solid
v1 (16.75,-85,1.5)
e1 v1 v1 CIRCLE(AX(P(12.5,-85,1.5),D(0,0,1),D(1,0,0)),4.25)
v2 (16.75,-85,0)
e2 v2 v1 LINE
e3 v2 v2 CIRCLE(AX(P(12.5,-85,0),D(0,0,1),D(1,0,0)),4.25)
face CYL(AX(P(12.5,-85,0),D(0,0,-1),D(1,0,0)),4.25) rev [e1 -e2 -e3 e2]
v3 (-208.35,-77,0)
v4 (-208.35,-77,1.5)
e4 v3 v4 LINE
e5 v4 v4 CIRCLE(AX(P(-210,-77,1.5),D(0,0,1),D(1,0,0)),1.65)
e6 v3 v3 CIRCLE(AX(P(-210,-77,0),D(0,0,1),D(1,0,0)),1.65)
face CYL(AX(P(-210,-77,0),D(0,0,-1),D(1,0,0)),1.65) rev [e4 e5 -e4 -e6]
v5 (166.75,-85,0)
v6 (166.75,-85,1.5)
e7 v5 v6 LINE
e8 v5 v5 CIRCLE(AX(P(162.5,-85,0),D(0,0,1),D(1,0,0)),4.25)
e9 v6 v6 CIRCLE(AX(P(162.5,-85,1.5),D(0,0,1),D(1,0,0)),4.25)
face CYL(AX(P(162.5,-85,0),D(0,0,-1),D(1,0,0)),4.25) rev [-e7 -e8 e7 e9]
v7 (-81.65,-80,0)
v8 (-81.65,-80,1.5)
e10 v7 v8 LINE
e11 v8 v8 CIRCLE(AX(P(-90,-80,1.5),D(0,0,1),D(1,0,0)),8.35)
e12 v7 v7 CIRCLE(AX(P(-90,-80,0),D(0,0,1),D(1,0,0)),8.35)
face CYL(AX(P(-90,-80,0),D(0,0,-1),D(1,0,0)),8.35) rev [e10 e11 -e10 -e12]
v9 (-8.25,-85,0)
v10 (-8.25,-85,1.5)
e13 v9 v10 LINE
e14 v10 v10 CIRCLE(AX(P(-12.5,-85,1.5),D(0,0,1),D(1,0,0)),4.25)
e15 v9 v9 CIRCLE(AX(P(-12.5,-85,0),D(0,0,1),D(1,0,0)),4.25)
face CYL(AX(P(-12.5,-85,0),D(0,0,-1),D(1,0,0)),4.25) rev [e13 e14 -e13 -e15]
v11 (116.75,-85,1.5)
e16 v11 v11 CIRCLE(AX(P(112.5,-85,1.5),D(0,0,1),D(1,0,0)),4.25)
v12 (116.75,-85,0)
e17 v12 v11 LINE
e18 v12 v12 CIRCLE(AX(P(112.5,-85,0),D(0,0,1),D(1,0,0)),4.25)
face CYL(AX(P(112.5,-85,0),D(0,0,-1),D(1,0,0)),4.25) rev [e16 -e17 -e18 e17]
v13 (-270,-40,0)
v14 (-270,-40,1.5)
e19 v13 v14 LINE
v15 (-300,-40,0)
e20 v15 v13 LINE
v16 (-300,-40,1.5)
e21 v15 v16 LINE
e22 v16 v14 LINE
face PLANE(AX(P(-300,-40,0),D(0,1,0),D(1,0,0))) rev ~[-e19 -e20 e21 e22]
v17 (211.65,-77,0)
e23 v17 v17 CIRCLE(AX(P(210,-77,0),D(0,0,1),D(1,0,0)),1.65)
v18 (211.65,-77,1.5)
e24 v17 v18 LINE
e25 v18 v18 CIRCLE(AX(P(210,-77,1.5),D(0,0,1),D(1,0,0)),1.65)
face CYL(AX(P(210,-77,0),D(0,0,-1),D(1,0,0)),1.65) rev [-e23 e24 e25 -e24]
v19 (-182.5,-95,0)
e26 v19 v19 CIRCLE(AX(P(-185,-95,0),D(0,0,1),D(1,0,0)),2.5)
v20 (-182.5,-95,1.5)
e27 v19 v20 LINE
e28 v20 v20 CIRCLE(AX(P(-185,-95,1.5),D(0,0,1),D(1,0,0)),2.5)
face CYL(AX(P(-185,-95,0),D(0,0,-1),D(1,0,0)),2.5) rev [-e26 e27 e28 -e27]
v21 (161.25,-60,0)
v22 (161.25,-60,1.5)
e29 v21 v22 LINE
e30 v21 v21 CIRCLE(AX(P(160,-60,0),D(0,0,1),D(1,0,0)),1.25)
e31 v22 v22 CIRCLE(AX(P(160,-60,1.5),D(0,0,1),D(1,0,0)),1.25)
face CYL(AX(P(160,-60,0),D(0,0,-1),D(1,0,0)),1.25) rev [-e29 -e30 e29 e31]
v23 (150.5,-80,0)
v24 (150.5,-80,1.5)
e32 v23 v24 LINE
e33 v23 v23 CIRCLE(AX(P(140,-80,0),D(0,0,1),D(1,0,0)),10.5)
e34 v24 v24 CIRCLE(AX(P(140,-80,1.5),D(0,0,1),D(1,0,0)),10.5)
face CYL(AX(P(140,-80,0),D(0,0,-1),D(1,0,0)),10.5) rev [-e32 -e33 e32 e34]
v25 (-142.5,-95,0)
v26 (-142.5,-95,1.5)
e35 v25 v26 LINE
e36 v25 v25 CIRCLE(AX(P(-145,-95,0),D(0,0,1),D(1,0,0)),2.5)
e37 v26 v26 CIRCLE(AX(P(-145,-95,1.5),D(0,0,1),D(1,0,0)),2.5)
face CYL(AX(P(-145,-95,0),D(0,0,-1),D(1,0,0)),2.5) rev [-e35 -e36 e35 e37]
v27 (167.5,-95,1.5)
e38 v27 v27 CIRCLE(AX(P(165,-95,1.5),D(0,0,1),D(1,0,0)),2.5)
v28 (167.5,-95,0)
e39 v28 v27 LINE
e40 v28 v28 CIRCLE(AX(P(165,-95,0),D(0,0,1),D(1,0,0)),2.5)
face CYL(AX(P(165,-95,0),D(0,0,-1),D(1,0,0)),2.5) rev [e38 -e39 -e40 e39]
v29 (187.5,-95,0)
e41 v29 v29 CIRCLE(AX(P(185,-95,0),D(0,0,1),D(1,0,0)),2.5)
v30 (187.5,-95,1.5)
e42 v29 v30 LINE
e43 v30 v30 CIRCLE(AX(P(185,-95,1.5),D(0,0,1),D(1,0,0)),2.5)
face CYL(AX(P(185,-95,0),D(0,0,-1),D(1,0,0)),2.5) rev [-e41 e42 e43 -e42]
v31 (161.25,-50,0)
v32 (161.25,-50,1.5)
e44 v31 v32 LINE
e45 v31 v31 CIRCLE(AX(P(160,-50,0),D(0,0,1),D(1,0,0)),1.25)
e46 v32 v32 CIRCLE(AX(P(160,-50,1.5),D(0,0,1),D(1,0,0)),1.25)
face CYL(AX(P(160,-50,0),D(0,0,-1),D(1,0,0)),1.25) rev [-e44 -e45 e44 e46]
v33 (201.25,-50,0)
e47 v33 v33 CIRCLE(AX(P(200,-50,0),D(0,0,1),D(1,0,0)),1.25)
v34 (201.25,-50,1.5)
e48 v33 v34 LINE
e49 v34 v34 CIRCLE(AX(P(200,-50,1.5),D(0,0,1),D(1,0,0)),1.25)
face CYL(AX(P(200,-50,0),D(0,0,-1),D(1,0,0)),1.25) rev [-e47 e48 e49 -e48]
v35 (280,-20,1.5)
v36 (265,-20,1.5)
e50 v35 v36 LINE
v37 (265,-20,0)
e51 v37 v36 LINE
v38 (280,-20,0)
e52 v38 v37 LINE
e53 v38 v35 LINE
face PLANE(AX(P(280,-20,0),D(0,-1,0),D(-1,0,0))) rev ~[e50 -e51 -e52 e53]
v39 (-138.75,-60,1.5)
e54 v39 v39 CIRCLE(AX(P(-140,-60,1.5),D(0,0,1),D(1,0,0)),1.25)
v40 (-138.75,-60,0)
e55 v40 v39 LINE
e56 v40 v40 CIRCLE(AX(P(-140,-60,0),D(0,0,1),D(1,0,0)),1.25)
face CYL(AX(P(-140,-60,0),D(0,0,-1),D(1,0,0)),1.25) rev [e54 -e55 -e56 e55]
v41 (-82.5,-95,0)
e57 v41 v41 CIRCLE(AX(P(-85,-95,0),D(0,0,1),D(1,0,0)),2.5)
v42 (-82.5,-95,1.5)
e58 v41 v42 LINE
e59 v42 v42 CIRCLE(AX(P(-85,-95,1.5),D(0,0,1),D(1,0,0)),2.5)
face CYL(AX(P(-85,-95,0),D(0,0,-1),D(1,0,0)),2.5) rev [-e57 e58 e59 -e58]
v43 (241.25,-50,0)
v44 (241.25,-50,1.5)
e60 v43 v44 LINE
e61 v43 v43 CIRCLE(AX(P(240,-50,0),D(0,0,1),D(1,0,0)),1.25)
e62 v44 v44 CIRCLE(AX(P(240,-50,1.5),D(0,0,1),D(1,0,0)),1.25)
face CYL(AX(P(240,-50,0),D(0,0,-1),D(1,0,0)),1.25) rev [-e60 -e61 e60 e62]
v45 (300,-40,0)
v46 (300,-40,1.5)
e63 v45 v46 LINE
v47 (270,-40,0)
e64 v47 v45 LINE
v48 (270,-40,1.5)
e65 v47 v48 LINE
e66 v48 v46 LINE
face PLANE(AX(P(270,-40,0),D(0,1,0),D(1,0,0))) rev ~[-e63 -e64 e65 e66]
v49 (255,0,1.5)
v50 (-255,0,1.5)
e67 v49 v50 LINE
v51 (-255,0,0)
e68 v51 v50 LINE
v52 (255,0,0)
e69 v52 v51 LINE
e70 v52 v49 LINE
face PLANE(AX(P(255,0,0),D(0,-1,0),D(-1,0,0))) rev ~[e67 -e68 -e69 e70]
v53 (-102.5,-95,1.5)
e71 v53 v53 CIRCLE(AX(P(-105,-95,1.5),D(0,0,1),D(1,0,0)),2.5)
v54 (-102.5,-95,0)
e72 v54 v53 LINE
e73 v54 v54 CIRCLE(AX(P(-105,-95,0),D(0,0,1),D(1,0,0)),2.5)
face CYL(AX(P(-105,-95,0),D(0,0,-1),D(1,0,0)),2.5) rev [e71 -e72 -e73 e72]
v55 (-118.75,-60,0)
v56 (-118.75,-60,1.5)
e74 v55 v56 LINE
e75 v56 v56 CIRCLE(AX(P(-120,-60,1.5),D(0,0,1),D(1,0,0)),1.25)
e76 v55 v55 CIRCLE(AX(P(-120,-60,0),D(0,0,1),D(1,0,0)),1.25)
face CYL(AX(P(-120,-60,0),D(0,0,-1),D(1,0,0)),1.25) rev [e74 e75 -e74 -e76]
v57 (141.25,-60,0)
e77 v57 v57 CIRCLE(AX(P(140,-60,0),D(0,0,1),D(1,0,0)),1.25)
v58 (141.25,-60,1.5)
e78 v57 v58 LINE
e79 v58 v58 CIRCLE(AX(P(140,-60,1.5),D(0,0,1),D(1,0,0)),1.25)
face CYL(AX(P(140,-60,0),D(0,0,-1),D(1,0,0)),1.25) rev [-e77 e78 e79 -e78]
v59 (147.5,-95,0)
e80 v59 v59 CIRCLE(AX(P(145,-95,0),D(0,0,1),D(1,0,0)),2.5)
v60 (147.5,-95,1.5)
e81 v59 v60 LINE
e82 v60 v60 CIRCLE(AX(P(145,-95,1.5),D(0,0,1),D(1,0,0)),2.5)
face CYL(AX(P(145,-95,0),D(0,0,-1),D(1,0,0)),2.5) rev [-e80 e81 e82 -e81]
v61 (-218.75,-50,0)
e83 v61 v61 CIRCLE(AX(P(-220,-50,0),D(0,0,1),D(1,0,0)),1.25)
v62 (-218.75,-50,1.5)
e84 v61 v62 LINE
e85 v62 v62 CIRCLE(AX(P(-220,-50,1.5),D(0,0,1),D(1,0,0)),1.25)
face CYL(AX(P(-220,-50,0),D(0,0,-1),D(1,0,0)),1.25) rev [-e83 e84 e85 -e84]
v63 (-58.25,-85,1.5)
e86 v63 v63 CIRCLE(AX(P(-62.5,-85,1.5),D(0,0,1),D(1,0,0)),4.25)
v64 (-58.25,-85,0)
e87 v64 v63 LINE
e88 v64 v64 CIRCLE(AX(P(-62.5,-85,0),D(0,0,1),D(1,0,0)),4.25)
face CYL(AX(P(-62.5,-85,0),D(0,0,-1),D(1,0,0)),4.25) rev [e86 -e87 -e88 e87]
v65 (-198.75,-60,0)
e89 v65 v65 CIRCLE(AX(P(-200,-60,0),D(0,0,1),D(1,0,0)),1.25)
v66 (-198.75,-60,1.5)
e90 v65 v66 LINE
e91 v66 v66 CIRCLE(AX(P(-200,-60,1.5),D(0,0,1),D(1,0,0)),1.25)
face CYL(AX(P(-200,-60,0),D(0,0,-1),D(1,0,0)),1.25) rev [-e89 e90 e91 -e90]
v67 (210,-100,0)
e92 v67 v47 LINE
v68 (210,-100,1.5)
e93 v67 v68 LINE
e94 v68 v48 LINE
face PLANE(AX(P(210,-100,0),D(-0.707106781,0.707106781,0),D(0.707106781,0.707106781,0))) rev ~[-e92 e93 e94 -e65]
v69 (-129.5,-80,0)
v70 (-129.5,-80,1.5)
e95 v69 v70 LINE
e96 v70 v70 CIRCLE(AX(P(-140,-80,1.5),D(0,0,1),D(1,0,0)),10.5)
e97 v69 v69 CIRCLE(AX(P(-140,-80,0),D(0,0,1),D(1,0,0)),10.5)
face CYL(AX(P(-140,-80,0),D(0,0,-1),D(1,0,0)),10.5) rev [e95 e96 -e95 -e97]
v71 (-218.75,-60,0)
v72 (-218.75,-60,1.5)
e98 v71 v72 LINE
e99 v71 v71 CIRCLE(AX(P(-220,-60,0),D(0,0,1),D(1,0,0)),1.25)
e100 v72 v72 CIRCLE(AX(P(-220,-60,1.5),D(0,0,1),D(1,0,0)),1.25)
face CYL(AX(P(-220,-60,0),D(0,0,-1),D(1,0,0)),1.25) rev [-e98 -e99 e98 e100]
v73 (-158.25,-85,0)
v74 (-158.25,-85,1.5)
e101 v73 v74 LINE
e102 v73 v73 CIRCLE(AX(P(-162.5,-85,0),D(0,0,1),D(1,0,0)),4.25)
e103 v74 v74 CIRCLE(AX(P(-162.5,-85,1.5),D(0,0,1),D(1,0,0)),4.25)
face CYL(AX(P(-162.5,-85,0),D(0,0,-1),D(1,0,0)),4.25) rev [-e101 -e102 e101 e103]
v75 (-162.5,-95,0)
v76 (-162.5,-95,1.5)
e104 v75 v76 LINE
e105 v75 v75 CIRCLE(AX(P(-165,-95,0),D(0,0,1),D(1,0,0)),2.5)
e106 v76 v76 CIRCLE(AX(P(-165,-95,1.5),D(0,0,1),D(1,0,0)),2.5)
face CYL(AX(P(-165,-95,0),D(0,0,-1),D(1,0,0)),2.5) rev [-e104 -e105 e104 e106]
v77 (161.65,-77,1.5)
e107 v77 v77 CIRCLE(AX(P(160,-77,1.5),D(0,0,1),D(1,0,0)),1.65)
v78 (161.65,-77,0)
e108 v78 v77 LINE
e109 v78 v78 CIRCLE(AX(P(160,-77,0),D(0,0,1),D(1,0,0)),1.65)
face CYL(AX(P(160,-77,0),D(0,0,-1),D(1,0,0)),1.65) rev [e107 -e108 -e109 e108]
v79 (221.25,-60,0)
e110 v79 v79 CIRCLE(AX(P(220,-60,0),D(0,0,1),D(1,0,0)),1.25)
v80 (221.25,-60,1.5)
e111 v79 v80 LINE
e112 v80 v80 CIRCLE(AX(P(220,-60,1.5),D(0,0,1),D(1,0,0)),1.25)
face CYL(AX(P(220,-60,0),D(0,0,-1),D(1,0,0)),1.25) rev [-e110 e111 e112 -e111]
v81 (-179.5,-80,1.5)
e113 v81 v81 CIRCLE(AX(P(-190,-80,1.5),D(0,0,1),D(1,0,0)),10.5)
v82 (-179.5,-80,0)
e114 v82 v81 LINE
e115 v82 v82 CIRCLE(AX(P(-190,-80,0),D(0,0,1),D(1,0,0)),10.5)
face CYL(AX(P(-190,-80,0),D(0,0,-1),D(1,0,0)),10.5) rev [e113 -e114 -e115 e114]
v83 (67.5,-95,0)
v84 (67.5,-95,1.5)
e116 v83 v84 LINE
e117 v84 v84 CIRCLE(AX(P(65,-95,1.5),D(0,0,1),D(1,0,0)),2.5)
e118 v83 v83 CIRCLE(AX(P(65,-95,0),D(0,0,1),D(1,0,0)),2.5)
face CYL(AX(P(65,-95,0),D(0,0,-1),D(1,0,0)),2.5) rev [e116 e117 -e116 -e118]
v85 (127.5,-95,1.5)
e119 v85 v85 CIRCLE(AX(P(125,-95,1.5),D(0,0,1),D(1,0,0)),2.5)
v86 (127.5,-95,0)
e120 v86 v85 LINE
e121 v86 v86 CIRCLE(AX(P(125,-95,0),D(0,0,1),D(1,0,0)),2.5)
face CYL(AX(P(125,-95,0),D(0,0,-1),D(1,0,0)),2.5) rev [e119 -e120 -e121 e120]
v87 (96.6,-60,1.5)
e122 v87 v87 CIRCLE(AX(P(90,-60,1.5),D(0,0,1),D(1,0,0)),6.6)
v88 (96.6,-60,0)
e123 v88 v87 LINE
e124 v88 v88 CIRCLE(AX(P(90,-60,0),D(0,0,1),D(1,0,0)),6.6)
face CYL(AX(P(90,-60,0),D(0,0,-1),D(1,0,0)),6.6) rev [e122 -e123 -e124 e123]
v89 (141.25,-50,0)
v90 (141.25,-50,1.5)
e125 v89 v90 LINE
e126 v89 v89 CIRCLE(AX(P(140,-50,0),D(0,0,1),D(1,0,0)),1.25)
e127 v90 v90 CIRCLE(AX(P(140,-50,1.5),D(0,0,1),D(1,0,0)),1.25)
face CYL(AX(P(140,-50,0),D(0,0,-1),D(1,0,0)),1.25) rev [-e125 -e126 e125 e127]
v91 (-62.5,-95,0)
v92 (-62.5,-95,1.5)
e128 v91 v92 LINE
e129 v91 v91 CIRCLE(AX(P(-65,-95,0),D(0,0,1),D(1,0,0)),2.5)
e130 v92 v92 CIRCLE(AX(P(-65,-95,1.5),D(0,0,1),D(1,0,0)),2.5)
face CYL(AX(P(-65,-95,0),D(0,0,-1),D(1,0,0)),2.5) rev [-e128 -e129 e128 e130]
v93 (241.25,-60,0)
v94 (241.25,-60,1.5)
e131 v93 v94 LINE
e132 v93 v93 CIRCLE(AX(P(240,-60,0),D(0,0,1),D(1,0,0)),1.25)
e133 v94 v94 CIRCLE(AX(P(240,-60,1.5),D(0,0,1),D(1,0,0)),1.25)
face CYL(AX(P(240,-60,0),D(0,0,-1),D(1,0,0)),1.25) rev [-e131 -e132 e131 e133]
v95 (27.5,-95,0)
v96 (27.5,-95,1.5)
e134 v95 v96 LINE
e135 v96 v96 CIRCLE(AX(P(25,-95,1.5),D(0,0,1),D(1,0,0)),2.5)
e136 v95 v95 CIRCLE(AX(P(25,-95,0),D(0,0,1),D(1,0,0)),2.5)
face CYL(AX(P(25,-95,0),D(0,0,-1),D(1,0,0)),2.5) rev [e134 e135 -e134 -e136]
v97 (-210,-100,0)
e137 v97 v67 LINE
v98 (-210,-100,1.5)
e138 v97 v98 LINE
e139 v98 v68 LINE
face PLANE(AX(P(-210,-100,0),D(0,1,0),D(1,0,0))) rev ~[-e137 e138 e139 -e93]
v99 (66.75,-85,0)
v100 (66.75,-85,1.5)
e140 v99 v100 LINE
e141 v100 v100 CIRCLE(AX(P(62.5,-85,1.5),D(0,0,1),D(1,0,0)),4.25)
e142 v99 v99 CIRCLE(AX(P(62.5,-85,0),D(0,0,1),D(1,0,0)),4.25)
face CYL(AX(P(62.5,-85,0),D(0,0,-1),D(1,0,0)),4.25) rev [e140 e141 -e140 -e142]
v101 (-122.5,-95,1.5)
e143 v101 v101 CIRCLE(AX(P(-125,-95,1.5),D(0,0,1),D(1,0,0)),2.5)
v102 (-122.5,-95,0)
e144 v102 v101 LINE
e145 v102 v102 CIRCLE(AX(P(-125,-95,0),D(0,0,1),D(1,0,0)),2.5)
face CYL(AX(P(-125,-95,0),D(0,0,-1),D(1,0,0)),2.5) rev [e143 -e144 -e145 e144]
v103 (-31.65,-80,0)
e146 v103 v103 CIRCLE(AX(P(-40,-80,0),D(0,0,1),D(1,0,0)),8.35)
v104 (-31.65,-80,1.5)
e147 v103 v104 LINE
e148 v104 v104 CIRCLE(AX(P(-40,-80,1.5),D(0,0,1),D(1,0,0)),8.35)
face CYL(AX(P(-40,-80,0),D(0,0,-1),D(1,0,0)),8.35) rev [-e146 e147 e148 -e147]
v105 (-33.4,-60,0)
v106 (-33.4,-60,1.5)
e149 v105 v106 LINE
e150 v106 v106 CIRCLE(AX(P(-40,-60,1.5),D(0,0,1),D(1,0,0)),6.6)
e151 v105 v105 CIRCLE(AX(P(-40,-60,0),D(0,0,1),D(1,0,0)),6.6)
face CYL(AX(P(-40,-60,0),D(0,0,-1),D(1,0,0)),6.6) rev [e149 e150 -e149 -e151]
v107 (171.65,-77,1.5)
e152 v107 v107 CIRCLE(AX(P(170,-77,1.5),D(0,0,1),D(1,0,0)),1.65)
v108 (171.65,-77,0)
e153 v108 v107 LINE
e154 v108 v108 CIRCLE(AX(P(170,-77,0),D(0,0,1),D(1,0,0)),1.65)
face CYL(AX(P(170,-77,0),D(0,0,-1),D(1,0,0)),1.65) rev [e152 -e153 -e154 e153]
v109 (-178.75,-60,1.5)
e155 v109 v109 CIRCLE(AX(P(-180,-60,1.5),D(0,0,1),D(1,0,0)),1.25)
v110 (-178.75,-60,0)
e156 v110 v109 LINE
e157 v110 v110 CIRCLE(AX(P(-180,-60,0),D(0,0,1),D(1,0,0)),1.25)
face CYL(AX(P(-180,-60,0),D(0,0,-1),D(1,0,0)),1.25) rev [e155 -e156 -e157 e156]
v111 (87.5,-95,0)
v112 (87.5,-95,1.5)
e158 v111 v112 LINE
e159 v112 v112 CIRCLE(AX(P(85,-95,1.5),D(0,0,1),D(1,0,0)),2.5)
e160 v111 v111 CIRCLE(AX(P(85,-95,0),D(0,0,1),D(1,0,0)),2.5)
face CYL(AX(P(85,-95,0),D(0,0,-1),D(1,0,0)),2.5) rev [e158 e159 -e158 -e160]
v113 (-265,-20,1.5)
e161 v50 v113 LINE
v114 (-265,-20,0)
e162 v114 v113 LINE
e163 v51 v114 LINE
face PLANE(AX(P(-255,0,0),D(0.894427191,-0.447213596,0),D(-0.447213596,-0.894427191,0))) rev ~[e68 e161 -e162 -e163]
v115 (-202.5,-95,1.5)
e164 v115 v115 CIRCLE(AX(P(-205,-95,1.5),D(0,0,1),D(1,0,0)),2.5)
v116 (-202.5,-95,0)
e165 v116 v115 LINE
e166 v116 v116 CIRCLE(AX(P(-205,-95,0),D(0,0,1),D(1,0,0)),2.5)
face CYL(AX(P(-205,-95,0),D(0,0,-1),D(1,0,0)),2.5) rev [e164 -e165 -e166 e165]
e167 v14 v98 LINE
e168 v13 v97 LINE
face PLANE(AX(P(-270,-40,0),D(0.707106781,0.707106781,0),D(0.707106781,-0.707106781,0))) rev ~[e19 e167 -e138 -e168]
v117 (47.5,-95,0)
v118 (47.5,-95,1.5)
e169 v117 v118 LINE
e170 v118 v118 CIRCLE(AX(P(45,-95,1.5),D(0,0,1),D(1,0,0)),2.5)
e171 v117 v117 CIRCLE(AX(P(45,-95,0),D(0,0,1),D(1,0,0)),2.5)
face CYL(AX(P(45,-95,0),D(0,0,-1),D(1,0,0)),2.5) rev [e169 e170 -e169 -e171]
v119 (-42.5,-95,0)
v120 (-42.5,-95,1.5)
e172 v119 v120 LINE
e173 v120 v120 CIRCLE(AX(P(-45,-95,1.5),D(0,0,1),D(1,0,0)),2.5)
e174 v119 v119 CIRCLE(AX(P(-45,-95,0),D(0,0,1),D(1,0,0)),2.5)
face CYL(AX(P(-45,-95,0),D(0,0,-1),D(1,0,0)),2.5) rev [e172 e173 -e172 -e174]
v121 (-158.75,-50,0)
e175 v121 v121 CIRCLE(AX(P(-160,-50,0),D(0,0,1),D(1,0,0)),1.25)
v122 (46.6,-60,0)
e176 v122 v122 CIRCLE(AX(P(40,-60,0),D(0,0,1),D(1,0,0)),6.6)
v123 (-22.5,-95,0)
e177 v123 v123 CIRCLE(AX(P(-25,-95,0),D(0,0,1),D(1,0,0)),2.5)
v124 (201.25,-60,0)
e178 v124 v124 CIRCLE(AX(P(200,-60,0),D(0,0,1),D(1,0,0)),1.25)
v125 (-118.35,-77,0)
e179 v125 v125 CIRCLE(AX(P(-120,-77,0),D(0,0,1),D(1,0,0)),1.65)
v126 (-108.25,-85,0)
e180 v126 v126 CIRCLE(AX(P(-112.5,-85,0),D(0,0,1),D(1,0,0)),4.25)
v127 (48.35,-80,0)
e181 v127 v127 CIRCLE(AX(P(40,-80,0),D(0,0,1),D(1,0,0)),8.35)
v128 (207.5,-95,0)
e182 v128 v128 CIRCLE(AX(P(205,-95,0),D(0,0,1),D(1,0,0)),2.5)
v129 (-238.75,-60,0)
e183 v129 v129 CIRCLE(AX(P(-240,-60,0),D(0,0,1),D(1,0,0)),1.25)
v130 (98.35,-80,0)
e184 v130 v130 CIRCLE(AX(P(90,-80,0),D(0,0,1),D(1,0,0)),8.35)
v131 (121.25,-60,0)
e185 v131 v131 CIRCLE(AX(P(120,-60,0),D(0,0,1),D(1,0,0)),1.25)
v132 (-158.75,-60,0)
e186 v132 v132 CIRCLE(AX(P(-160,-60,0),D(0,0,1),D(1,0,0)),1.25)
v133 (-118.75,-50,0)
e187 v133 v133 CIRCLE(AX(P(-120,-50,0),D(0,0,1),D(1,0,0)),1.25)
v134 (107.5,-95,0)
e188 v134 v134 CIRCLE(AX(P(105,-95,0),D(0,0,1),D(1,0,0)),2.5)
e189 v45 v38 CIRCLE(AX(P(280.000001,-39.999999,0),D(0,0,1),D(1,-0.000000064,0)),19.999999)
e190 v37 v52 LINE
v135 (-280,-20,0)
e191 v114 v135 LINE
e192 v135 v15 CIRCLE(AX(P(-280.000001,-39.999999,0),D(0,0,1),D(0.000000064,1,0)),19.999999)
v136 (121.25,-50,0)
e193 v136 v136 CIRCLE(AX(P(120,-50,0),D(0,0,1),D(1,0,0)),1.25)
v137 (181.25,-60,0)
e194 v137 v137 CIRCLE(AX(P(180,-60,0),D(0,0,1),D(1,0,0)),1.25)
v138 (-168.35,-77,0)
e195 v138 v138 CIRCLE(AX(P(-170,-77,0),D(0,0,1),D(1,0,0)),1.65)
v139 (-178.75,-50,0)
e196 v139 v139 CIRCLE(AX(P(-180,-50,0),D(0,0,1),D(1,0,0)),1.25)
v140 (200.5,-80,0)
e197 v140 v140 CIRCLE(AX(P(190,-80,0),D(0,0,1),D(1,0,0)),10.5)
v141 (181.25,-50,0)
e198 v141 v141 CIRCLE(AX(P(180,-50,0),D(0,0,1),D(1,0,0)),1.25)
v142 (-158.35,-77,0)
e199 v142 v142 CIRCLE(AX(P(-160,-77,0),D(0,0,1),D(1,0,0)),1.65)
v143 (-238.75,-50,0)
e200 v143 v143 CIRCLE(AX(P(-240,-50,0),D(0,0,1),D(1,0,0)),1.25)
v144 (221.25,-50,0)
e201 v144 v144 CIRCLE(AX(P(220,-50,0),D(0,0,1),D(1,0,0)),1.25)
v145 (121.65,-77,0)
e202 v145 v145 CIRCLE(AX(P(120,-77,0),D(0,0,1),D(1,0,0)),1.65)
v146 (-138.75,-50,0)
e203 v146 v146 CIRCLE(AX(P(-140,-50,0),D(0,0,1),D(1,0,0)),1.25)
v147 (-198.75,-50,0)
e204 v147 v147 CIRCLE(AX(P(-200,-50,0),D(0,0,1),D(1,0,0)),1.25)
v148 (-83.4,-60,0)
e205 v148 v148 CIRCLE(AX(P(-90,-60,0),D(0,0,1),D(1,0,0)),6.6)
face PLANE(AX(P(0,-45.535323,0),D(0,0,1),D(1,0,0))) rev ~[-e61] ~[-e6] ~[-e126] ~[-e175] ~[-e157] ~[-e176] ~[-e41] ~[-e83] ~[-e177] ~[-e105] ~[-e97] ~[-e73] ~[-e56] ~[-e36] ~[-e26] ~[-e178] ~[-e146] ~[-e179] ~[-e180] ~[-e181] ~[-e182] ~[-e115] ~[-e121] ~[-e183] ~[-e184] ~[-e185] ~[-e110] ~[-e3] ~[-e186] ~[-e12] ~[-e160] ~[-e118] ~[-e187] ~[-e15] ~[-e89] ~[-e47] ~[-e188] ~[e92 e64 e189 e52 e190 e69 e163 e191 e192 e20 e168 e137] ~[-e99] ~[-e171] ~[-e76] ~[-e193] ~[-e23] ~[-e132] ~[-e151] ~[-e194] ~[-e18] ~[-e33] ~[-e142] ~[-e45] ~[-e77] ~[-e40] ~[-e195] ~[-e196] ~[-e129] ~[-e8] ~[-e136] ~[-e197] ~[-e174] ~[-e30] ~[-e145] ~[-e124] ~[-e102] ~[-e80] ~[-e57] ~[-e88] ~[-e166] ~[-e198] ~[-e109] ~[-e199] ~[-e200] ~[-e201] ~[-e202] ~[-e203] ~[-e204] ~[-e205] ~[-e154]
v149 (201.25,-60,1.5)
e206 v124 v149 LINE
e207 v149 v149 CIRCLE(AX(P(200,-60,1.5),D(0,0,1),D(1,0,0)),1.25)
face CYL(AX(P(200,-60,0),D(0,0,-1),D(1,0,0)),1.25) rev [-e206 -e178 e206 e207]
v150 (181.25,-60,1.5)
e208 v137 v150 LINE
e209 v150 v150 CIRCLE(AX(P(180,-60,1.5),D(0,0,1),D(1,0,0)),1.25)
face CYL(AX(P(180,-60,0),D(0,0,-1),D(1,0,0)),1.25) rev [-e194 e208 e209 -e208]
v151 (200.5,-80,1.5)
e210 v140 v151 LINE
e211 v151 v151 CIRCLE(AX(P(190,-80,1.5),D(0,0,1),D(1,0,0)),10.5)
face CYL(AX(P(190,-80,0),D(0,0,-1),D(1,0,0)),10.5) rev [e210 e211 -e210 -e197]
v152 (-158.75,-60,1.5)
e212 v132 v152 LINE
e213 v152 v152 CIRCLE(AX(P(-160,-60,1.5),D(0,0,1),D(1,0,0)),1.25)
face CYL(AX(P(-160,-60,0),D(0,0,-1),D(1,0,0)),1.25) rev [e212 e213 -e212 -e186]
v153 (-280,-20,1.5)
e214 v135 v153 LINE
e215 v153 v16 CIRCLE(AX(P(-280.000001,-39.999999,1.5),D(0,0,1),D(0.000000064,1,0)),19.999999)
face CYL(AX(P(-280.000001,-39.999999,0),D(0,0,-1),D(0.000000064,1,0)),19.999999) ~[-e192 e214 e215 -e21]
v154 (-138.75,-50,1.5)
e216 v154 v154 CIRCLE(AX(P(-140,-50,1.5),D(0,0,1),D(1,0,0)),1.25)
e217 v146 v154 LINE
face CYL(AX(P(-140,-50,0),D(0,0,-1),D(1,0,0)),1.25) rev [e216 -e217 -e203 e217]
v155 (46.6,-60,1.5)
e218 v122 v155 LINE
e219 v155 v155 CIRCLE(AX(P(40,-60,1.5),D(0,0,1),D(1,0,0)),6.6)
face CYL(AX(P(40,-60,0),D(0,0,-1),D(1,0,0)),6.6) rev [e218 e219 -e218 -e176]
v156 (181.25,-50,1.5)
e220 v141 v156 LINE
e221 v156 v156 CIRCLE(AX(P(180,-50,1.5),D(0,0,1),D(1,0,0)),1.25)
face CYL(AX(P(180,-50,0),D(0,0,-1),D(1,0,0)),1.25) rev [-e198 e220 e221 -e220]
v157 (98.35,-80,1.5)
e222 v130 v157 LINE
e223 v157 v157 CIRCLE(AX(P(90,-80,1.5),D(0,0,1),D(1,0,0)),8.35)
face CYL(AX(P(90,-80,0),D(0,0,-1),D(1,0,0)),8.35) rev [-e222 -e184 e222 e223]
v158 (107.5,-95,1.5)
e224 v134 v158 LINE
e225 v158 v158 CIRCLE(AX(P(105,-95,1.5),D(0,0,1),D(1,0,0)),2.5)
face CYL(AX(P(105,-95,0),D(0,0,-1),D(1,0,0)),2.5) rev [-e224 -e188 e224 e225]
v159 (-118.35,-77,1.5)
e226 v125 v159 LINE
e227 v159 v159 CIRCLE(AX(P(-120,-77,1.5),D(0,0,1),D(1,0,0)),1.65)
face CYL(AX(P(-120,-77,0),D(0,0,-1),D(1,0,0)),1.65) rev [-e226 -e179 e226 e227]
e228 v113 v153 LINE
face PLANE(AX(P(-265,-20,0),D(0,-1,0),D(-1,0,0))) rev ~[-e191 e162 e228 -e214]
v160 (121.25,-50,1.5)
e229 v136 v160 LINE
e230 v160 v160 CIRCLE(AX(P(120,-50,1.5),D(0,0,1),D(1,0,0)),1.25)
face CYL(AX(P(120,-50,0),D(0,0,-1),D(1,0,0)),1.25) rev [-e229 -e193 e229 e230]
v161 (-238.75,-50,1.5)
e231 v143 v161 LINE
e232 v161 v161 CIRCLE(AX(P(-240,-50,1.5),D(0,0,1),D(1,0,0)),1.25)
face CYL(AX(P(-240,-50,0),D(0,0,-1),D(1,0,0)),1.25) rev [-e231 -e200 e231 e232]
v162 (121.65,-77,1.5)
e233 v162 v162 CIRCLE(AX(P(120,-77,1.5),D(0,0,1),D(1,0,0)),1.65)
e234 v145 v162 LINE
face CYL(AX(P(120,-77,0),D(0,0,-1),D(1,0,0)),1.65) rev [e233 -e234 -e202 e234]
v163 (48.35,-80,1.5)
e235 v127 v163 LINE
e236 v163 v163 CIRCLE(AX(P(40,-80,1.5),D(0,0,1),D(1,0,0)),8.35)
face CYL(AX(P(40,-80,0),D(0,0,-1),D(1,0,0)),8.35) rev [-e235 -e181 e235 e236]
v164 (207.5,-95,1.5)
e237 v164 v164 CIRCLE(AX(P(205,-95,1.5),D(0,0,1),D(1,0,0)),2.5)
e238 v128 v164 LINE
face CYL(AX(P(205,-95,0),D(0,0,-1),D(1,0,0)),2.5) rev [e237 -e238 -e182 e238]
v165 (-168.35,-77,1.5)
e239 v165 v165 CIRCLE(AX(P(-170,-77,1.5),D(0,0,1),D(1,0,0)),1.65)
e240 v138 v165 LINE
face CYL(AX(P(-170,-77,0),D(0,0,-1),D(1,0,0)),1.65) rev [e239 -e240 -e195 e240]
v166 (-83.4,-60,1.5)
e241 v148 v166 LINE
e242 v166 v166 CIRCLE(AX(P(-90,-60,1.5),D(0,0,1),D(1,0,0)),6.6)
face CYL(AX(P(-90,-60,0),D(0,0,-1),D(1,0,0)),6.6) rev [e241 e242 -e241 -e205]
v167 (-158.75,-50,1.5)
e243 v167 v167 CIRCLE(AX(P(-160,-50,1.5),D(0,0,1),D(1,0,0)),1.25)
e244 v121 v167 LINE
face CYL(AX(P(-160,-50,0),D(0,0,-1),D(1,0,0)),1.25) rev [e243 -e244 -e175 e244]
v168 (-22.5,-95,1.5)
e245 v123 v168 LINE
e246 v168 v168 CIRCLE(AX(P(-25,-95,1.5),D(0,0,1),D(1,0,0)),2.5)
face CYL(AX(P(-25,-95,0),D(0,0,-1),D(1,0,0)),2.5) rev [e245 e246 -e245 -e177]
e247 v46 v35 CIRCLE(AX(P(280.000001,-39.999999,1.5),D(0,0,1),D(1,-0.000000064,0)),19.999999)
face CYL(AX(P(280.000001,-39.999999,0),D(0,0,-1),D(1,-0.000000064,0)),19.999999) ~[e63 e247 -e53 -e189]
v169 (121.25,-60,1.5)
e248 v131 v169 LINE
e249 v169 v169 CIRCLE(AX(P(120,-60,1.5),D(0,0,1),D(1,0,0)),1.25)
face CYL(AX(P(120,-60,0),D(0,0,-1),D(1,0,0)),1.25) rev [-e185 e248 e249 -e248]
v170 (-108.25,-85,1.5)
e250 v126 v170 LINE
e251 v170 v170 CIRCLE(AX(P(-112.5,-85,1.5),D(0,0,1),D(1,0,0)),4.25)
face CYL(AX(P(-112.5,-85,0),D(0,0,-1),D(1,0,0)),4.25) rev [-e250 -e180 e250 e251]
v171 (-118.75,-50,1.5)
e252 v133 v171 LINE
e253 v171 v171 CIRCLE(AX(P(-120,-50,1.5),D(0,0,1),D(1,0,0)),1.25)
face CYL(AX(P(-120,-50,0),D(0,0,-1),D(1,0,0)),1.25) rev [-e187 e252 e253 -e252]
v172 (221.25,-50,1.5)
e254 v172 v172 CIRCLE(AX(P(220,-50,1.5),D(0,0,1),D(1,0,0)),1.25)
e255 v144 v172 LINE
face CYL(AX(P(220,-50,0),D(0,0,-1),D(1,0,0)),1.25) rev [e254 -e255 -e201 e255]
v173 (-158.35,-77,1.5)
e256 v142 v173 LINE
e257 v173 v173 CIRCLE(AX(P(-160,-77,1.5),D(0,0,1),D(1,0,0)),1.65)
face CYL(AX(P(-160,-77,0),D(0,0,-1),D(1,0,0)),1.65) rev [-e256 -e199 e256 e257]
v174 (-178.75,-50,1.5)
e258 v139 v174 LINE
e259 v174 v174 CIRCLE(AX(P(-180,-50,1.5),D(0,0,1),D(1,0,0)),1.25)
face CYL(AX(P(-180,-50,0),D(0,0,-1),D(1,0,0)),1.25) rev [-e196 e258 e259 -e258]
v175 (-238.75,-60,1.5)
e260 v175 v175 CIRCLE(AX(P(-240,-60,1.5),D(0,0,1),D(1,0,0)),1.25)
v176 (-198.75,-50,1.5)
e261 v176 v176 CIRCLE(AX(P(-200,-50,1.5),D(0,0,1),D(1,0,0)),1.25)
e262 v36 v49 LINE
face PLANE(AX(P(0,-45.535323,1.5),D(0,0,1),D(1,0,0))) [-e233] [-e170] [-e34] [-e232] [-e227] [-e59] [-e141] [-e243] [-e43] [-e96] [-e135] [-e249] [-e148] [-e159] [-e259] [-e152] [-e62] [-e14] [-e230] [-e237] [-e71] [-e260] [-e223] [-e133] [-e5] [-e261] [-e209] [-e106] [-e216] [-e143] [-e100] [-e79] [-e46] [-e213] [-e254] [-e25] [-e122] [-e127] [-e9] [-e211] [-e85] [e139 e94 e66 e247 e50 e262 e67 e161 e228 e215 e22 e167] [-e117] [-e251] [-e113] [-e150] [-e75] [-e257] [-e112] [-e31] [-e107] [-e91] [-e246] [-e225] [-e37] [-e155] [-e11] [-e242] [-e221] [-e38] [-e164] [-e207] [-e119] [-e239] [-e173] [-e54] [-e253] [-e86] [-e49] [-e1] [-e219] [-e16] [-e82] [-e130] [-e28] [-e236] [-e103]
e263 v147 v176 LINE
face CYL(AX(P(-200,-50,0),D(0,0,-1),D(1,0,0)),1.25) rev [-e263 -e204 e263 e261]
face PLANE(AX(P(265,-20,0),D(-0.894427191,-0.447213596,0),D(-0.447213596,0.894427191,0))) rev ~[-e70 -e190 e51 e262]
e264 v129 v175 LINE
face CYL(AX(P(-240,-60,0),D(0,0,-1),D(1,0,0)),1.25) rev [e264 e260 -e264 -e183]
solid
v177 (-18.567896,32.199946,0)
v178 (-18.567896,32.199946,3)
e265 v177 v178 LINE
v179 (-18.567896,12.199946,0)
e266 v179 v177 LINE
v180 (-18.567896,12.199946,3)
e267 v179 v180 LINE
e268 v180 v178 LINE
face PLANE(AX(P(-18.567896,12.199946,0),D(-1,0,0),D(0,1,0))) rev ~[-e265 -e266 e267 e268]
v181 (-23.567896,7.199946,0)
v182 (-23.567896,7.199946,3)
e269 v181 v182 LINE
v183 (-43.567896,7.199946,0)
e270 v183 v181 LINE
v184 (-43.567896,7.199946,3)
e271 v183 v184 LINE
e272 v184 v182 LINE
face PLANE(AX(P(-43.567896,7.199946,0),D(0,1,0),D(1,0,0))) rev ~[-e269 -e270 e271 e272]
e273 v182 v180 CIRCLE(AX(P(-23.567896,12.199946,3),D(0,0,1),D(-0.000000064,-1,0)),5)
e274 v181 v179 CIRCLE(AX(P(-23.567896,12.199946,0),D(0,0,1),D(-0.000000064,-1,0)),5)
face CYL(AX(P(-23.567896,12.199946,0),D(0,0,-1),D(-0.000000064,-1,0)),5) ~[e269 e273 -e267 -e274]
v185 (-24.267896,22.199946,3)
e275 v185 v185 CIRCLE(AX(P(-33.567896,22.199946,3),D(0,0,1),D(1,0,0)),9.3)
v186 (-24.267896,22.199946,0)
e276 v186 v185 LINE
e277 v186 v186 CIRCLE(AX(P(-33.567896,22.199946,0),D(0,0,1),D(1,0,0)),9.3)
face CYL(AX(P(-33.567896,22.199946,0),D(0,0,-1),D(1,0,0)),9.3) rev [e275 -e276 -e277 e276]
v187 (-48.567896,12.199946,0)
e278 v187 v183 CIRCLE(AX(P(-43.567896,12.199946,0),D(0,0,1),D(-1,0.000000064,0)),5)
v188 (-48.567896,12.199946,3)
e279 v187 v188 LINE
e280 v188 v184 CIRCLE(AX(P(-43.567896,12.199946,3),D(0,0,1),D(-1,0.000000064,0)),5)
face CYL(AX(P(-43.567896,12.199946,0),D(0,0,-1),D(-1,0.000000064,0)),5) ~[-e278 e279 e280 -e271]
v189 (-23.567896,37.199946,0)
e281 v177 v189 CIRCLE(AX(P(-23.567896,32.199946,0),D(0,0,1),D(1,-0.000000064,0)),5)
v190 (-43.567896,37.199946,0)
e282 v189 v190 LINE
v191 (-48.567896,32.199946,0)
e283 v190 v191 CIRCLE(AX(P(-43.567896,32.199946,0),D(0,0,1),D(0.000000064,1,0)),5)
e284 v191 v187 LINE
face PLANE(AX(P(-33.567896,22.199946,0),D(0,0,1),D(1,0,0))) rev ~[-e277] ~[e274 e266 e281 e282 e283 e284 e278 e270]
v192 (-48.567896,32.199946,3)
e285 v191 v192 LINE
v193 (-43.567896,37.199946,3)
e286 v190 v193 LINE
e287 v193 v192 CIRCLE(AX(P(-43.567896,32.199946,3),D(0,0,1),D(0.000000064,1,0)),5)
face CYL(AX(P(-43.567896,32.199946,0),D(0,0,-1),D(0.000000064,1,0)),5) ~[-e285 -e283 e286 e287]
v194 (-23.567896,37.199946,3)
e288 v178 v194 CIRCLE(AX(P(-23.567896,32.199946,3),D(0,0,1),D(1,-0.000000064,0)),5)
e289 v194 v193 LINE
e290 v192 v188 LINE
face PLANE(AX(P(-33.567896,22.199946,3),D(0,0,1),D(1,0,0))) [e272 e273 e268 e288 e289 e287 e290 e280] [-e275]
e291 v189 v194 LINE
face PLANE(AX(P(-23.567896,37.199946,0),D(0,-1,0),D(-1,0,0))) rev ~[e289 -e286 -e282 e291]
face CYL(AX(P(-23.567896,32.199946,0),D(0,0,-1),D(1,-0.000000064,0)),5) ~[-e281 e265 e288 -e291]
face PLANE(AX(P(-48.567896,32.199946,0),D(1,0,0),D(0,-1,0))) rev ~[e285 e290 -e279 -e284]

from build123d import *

# Parameters (mm, degrees)
F0_R     = 2.5
F0_R_2   = 4.25
F0_R_3   = 10.5
F0_R_4   = 1.65
F0_R_5   = 8.35
F0_R_6   = 1.25
F0_R_7   = 6.6
F1_DEPTH = 1.5
F2_R     = 9.3
F3_DEPTH = 3


with BuildPart() as f1:
    # F0 (on Top) → F1 (new body)
    with BuildSketch(Plane.XY):
        with BuildLine():
            Line((255, 0), (0, 0))
            Line((0, 0), (-255, 0))
            Line((-255, 0), (-265, -20))
            Line((-265, -20), (-280, -20))
            ThreePointArc((-280, -20), (-294.142136, -25.857864), (-300, -40))
            Line((-300, -40), (-270, -40))
            Line((-270, -40), (-210, -100))
            Line((-210, -100), (0, -100))
            Line((0, -100), (210, -100))
            Line((210, -100), (270, -40))
            Line((270, -40), (300, -40))
            ThreePointArc((300, -40), (294.142136, -25.857864), (280, -20))
            Line((280, -20), (265, -20))
            Line((265, -20), (255, 0))
        make_face()
        with Locations((-205, -95)):
            Circle(F0_R, mode=Mode.SUBTRACT)
        with Locations((-185, -95)):
            Circle(F0_R, mode=Mode.SUBTRACT)
        with Locations((-165, -95)):
            Circle(F0_R, mode=Mode.SUBTRACT)
        with Locations((-162.5, -85)):
            Circle(F0_R_2, mode=Mode.SUBTRACT)
        with Locations((-190, -80)):
            Circle(F0_R_3, mode=Mode.SUBTRACT)
        with Locations((-210, -77)):
            Circle(F0_R_4, mode=Mode.SUBTRACT)
        with Locations((-170, -77)):
            Circle(F0_R_4, mode=Mode.SUBTRACT)
        with Locations((-160, -77)):
            Circle(F0_R_4, mode=Mode.SUBTRACT)
        with Locations((-145, -95)):
            Circle(F0_R, mode=Mode.SUBTRACT)
        with Locations((-125, -95)):
            Circle(F0_R, mode=Mode.SUBTRACT)
        with Locations((-105, -95)):
            Circle(F0_R, mode=Mode.SUBTRACT)
        with Locations((-85, -95)):
            Circle(F0_R, mode=Mode.SUBTRACT)
        with Locations((-65, -95)):
            Circle(F0_R, mode=Mode.SUBTRACT)
        with Locations((-45, -95)):
            Circle(F0_R, mode=Mode.SUBTRACT)
        with Locations((-25, -95)):
            Circle(F0_R, mode=Mode.SUBTRACT)
        with Locations((-112.5, -85)):
            Circle(F0_R_2, mode=Mode.SUBTRACT)
        with Locations((-140, -80)):
            Circle(F0_R_3, mode=Mode.SUBTRACT)
        with Locations((-120, -77)):
            Circle(F0_R_4, mode=Mode.SUBTRACT)
        with Locations((-90, -80)):
            Circle(F0_R_5, mode=Mode.SUBTRACT)
        with Locations((-62.5, -85)):
            Circle(F0_R_2, mode=Mode.SUBTRACT)
        with Locations((-12.5, -85)):
            Circle(F0_R_2, mode=Mode.SUBTRACT)
        with Locations((-40, -80)):
            Circle(F0_R_5, mode=Mode.SUBTRACT)
        with Locations((-240, -60)):
            Circle(F0_R_6, mode=Mode.SUBTRACT)
        with Locations((-220, -60)):
            Circle(F0_R_6, mode=Mode.SUBTRACT)
        with Locations((-200, -60)):
            Circle(F0_R_6, mode=Mode.SUBTRACT)
        with Locations((-180, -60)):
            Circle(F0_R_6, mode=Mode.SUBTRACT)
        with Locations((-160, -60)):
            Circle(F0_R_6, mode=Mode.SUBTRACT)
        with Locations((-140, -60)):
            Circle(F0_R_6, mode=Mode.SUBTRACT)
        with Locations((-120, -60)):
            Circle(F0_R_6, mode=Mode.SUBTRACT)
        with Locations((-90, -60)):
            Circle(F0_R_7, mode=Mode.SUBTRACT)
        with Locations((-40, -60)):
            Circle(F0_R_7, mode=Mode.SUBTRACT)
        with Locations((25, -95)):
            Circle(F0_R, mode=Mode.SUBTRACT)
        with Locations((45, -95)):
            Circle(F0_R, mode=Mode.SUBTRACT)
        with Locations((65, -95)):
            Circle(F0_R, mode=Mode.SUBTRACT)
        with Locations((85, -95)):
            Circle(F0_R, mode=Mode.SUBTRACT)
        with Locations((105, -95)):
            Circle(F0_R, mode=Mode.SUBTRACT)
        with Locations((125, -95)):
            Circle(F0_R, mode=Mode.SUBTRACT)
        with Locations((145, -95)):
            Circle(F0_R, mode=Mode.SUBTRACT)
        with Locations((12.5, -85)):
            Circle(F0_R_2, mode=Mode.SUBTRACT)
        with Locations((62.5, -85)):
            Circle(F0_R_2, mode=Mode.SUBTRACT)
        with Locations((40, -80)):
            Circle(F0_R_5, mode=Mode.SUBTRACT)
        with Locations((112.5, -85)):
            Circle(F0_R_2, mode=Mode.SUBTRACT)
        with Locations((90, -80)):
            Circle(F0_R_5, mode=Mode.SUBTRACT)
        with Locations((140, -80)):
            Circle(F0_R_3, mode=Mode.SUBTRACT)
        with Locations((120, -77)):
            Circle(F0_R_4, mode=Mode.SUBTRACT)
        with Locations((165, -95)):
            Circle(F0_R, mode=Mode.SUBTRACT)
        with Locations((185, -95)):
            Circle(F0_R, mode=Mode.SUBTRACT)
        with Locations((205, -95)):
            Circle(F0_R, mode=Mode.SUBTRACT)
        with Locations((162.5, -85)):
            Circle(F0_R_2, mode=Mode.SUBTRACT)
        with Locations((160, -77)):
            Circle(F0_R_4, mode=Mode.SUBTRACT)
        with Locations((170, -77)):
            Circle(F0_R_4, mode=Mode.SUBTRACT)
        with Locations((190, -80)):
            Circle(F0_R_3, mode=Mode.SUBTRACT)
        with Locations((210, -77)):
            Circle(F0_R_4, mode=Mode.SUBTRACT)
        with Locations((40, -60)):
            Circle(F0_R_7, mode=Mode.SUBTRACT)
        with Locations((90, -60)):
            Circle(F0_R_7, mode=Mode.SUBTRACT)
        with Locations((120, -60)):
            Circle(F0_R_6, mode=Mode.SUBTRACT)
        with Locations((140, -60)):
            Circle(F0_R_6, mode=Mode.SUBTRACT)
        with Locations((160, -60)):
            Circle(F0_R_6, mode=Mode.SUBTRACT)
        with Locations((180, -60)):
            Circle(F0_R_6, mode=Mode.SUBTRACT)
        with Locations((200, -60)):
            Circle(F0_R_6, mode=Mode.SUBTRACT)
        with Locations((220, -60)):
            Circle(F0_R_6, mode=Mode.SUBTRACT)
        with Locations((240, -60)):
            Circle(F0_R_6, mode=Mode.SUBTRACT)
        with Locations((-240, -50)):
            Circle(F0_R_6, mode=Mode.SUBTRACT)
        with Locations((-220, -50)):
            Circle(F0_R_6, mode=Mode.SUBTRACT)
        with Locations((-200, -50)):
            Circle(F0_R_6, mode=Mode.SUBTRACT)
        with Locations((-180, -50)):
            Circle(F0_R_6, mode=Mode.SUBTRACT)
        with Locations((-160, -50)):
            Circle(F0_R_6, mode=Mode.SUBTRACT)
        with Locations((-140, -50)):
            Circle(F0_R_6, mode=Mode.SUBTRACT)
        with Locations((-120, -50)):
            Circle(F0_R_6, mode=Mode.SUBTRACT)
        with Locations((120, -50)):
            Circle(F0_R_6, mode=Mode.SUBTRACT)
        with Locations((140, -50)):
            Circle(F0_R_6, mode=Mode.SUBTRACT)
        with Locations((160, -50)):
            Circle(F0_R_6, mode=Mode.SUBTRACT)
        with Locations((180, -50)):
            Circle(F0_R_6, mode=Mode.SUBTRACT)
        with Locations((200, -50)):
            Circle(F0_R_6, mode=Mode.SUBTRACT)
        with Locations((220, -50)):
            Circle(F0_R_6, mode=Mode.SUBTRACT)
        with Locations((240, -50)):
            Circle(F0_R_6, mode=Mode.SUBTRACT)
    extrude(amount=F1_DEPTH)


with BuildPart() as f3:
    # F2 (on Top) → F3 (new body)
    with BuildSketch(Plane.XY):
        with BuildLine():
            ThreePointArc((-43.567896, 37.199946), (-47.10343, 35.73548), (-48.567896, 32.199946))
            Line((-48.567896, 32.199946), (-48.567896, 22.199946))
            Line((-48.567896, 22.199946), (-48.567896, 12.199946))
            ThreePointArc((-48.567896, 12.199946), (-47.10343, 8.664412), (-43.567896, 7.199946))
            Line((-43.567896, 7.199946), (-33.567896, 7.199946))
            Line((-33.567896, 7.199946), (-23.567896, 7.199946))
            ThreePointArc((-23.567896, 7.199946), (-20.032362, 8.664412), (-18.567896, 12.199946))
            Line((-18.567896, 12.199946), (-18.567896, 22.199946))
            Line((-18.567896, 22.199946), (-18.567896, 32.199946))
            ThreePointArc((-18.567896, 32.199946), (-20.032362, 35.73548), (-23.567896, 37.199946))
            Line((-23.567896, 37.199946), (-33.567896, 37.199946))
            Line((-33.567896, 37.199946), (-43.567896, 37.199946))
        make_face()
        with Locations((-33.567896, 22.199946)):
            Circle(F2_R, mode=Mode.SUBTRACT)
    extrude(amount=F3_DEPTH)


solid = Compound([f1.part, f3.part])
